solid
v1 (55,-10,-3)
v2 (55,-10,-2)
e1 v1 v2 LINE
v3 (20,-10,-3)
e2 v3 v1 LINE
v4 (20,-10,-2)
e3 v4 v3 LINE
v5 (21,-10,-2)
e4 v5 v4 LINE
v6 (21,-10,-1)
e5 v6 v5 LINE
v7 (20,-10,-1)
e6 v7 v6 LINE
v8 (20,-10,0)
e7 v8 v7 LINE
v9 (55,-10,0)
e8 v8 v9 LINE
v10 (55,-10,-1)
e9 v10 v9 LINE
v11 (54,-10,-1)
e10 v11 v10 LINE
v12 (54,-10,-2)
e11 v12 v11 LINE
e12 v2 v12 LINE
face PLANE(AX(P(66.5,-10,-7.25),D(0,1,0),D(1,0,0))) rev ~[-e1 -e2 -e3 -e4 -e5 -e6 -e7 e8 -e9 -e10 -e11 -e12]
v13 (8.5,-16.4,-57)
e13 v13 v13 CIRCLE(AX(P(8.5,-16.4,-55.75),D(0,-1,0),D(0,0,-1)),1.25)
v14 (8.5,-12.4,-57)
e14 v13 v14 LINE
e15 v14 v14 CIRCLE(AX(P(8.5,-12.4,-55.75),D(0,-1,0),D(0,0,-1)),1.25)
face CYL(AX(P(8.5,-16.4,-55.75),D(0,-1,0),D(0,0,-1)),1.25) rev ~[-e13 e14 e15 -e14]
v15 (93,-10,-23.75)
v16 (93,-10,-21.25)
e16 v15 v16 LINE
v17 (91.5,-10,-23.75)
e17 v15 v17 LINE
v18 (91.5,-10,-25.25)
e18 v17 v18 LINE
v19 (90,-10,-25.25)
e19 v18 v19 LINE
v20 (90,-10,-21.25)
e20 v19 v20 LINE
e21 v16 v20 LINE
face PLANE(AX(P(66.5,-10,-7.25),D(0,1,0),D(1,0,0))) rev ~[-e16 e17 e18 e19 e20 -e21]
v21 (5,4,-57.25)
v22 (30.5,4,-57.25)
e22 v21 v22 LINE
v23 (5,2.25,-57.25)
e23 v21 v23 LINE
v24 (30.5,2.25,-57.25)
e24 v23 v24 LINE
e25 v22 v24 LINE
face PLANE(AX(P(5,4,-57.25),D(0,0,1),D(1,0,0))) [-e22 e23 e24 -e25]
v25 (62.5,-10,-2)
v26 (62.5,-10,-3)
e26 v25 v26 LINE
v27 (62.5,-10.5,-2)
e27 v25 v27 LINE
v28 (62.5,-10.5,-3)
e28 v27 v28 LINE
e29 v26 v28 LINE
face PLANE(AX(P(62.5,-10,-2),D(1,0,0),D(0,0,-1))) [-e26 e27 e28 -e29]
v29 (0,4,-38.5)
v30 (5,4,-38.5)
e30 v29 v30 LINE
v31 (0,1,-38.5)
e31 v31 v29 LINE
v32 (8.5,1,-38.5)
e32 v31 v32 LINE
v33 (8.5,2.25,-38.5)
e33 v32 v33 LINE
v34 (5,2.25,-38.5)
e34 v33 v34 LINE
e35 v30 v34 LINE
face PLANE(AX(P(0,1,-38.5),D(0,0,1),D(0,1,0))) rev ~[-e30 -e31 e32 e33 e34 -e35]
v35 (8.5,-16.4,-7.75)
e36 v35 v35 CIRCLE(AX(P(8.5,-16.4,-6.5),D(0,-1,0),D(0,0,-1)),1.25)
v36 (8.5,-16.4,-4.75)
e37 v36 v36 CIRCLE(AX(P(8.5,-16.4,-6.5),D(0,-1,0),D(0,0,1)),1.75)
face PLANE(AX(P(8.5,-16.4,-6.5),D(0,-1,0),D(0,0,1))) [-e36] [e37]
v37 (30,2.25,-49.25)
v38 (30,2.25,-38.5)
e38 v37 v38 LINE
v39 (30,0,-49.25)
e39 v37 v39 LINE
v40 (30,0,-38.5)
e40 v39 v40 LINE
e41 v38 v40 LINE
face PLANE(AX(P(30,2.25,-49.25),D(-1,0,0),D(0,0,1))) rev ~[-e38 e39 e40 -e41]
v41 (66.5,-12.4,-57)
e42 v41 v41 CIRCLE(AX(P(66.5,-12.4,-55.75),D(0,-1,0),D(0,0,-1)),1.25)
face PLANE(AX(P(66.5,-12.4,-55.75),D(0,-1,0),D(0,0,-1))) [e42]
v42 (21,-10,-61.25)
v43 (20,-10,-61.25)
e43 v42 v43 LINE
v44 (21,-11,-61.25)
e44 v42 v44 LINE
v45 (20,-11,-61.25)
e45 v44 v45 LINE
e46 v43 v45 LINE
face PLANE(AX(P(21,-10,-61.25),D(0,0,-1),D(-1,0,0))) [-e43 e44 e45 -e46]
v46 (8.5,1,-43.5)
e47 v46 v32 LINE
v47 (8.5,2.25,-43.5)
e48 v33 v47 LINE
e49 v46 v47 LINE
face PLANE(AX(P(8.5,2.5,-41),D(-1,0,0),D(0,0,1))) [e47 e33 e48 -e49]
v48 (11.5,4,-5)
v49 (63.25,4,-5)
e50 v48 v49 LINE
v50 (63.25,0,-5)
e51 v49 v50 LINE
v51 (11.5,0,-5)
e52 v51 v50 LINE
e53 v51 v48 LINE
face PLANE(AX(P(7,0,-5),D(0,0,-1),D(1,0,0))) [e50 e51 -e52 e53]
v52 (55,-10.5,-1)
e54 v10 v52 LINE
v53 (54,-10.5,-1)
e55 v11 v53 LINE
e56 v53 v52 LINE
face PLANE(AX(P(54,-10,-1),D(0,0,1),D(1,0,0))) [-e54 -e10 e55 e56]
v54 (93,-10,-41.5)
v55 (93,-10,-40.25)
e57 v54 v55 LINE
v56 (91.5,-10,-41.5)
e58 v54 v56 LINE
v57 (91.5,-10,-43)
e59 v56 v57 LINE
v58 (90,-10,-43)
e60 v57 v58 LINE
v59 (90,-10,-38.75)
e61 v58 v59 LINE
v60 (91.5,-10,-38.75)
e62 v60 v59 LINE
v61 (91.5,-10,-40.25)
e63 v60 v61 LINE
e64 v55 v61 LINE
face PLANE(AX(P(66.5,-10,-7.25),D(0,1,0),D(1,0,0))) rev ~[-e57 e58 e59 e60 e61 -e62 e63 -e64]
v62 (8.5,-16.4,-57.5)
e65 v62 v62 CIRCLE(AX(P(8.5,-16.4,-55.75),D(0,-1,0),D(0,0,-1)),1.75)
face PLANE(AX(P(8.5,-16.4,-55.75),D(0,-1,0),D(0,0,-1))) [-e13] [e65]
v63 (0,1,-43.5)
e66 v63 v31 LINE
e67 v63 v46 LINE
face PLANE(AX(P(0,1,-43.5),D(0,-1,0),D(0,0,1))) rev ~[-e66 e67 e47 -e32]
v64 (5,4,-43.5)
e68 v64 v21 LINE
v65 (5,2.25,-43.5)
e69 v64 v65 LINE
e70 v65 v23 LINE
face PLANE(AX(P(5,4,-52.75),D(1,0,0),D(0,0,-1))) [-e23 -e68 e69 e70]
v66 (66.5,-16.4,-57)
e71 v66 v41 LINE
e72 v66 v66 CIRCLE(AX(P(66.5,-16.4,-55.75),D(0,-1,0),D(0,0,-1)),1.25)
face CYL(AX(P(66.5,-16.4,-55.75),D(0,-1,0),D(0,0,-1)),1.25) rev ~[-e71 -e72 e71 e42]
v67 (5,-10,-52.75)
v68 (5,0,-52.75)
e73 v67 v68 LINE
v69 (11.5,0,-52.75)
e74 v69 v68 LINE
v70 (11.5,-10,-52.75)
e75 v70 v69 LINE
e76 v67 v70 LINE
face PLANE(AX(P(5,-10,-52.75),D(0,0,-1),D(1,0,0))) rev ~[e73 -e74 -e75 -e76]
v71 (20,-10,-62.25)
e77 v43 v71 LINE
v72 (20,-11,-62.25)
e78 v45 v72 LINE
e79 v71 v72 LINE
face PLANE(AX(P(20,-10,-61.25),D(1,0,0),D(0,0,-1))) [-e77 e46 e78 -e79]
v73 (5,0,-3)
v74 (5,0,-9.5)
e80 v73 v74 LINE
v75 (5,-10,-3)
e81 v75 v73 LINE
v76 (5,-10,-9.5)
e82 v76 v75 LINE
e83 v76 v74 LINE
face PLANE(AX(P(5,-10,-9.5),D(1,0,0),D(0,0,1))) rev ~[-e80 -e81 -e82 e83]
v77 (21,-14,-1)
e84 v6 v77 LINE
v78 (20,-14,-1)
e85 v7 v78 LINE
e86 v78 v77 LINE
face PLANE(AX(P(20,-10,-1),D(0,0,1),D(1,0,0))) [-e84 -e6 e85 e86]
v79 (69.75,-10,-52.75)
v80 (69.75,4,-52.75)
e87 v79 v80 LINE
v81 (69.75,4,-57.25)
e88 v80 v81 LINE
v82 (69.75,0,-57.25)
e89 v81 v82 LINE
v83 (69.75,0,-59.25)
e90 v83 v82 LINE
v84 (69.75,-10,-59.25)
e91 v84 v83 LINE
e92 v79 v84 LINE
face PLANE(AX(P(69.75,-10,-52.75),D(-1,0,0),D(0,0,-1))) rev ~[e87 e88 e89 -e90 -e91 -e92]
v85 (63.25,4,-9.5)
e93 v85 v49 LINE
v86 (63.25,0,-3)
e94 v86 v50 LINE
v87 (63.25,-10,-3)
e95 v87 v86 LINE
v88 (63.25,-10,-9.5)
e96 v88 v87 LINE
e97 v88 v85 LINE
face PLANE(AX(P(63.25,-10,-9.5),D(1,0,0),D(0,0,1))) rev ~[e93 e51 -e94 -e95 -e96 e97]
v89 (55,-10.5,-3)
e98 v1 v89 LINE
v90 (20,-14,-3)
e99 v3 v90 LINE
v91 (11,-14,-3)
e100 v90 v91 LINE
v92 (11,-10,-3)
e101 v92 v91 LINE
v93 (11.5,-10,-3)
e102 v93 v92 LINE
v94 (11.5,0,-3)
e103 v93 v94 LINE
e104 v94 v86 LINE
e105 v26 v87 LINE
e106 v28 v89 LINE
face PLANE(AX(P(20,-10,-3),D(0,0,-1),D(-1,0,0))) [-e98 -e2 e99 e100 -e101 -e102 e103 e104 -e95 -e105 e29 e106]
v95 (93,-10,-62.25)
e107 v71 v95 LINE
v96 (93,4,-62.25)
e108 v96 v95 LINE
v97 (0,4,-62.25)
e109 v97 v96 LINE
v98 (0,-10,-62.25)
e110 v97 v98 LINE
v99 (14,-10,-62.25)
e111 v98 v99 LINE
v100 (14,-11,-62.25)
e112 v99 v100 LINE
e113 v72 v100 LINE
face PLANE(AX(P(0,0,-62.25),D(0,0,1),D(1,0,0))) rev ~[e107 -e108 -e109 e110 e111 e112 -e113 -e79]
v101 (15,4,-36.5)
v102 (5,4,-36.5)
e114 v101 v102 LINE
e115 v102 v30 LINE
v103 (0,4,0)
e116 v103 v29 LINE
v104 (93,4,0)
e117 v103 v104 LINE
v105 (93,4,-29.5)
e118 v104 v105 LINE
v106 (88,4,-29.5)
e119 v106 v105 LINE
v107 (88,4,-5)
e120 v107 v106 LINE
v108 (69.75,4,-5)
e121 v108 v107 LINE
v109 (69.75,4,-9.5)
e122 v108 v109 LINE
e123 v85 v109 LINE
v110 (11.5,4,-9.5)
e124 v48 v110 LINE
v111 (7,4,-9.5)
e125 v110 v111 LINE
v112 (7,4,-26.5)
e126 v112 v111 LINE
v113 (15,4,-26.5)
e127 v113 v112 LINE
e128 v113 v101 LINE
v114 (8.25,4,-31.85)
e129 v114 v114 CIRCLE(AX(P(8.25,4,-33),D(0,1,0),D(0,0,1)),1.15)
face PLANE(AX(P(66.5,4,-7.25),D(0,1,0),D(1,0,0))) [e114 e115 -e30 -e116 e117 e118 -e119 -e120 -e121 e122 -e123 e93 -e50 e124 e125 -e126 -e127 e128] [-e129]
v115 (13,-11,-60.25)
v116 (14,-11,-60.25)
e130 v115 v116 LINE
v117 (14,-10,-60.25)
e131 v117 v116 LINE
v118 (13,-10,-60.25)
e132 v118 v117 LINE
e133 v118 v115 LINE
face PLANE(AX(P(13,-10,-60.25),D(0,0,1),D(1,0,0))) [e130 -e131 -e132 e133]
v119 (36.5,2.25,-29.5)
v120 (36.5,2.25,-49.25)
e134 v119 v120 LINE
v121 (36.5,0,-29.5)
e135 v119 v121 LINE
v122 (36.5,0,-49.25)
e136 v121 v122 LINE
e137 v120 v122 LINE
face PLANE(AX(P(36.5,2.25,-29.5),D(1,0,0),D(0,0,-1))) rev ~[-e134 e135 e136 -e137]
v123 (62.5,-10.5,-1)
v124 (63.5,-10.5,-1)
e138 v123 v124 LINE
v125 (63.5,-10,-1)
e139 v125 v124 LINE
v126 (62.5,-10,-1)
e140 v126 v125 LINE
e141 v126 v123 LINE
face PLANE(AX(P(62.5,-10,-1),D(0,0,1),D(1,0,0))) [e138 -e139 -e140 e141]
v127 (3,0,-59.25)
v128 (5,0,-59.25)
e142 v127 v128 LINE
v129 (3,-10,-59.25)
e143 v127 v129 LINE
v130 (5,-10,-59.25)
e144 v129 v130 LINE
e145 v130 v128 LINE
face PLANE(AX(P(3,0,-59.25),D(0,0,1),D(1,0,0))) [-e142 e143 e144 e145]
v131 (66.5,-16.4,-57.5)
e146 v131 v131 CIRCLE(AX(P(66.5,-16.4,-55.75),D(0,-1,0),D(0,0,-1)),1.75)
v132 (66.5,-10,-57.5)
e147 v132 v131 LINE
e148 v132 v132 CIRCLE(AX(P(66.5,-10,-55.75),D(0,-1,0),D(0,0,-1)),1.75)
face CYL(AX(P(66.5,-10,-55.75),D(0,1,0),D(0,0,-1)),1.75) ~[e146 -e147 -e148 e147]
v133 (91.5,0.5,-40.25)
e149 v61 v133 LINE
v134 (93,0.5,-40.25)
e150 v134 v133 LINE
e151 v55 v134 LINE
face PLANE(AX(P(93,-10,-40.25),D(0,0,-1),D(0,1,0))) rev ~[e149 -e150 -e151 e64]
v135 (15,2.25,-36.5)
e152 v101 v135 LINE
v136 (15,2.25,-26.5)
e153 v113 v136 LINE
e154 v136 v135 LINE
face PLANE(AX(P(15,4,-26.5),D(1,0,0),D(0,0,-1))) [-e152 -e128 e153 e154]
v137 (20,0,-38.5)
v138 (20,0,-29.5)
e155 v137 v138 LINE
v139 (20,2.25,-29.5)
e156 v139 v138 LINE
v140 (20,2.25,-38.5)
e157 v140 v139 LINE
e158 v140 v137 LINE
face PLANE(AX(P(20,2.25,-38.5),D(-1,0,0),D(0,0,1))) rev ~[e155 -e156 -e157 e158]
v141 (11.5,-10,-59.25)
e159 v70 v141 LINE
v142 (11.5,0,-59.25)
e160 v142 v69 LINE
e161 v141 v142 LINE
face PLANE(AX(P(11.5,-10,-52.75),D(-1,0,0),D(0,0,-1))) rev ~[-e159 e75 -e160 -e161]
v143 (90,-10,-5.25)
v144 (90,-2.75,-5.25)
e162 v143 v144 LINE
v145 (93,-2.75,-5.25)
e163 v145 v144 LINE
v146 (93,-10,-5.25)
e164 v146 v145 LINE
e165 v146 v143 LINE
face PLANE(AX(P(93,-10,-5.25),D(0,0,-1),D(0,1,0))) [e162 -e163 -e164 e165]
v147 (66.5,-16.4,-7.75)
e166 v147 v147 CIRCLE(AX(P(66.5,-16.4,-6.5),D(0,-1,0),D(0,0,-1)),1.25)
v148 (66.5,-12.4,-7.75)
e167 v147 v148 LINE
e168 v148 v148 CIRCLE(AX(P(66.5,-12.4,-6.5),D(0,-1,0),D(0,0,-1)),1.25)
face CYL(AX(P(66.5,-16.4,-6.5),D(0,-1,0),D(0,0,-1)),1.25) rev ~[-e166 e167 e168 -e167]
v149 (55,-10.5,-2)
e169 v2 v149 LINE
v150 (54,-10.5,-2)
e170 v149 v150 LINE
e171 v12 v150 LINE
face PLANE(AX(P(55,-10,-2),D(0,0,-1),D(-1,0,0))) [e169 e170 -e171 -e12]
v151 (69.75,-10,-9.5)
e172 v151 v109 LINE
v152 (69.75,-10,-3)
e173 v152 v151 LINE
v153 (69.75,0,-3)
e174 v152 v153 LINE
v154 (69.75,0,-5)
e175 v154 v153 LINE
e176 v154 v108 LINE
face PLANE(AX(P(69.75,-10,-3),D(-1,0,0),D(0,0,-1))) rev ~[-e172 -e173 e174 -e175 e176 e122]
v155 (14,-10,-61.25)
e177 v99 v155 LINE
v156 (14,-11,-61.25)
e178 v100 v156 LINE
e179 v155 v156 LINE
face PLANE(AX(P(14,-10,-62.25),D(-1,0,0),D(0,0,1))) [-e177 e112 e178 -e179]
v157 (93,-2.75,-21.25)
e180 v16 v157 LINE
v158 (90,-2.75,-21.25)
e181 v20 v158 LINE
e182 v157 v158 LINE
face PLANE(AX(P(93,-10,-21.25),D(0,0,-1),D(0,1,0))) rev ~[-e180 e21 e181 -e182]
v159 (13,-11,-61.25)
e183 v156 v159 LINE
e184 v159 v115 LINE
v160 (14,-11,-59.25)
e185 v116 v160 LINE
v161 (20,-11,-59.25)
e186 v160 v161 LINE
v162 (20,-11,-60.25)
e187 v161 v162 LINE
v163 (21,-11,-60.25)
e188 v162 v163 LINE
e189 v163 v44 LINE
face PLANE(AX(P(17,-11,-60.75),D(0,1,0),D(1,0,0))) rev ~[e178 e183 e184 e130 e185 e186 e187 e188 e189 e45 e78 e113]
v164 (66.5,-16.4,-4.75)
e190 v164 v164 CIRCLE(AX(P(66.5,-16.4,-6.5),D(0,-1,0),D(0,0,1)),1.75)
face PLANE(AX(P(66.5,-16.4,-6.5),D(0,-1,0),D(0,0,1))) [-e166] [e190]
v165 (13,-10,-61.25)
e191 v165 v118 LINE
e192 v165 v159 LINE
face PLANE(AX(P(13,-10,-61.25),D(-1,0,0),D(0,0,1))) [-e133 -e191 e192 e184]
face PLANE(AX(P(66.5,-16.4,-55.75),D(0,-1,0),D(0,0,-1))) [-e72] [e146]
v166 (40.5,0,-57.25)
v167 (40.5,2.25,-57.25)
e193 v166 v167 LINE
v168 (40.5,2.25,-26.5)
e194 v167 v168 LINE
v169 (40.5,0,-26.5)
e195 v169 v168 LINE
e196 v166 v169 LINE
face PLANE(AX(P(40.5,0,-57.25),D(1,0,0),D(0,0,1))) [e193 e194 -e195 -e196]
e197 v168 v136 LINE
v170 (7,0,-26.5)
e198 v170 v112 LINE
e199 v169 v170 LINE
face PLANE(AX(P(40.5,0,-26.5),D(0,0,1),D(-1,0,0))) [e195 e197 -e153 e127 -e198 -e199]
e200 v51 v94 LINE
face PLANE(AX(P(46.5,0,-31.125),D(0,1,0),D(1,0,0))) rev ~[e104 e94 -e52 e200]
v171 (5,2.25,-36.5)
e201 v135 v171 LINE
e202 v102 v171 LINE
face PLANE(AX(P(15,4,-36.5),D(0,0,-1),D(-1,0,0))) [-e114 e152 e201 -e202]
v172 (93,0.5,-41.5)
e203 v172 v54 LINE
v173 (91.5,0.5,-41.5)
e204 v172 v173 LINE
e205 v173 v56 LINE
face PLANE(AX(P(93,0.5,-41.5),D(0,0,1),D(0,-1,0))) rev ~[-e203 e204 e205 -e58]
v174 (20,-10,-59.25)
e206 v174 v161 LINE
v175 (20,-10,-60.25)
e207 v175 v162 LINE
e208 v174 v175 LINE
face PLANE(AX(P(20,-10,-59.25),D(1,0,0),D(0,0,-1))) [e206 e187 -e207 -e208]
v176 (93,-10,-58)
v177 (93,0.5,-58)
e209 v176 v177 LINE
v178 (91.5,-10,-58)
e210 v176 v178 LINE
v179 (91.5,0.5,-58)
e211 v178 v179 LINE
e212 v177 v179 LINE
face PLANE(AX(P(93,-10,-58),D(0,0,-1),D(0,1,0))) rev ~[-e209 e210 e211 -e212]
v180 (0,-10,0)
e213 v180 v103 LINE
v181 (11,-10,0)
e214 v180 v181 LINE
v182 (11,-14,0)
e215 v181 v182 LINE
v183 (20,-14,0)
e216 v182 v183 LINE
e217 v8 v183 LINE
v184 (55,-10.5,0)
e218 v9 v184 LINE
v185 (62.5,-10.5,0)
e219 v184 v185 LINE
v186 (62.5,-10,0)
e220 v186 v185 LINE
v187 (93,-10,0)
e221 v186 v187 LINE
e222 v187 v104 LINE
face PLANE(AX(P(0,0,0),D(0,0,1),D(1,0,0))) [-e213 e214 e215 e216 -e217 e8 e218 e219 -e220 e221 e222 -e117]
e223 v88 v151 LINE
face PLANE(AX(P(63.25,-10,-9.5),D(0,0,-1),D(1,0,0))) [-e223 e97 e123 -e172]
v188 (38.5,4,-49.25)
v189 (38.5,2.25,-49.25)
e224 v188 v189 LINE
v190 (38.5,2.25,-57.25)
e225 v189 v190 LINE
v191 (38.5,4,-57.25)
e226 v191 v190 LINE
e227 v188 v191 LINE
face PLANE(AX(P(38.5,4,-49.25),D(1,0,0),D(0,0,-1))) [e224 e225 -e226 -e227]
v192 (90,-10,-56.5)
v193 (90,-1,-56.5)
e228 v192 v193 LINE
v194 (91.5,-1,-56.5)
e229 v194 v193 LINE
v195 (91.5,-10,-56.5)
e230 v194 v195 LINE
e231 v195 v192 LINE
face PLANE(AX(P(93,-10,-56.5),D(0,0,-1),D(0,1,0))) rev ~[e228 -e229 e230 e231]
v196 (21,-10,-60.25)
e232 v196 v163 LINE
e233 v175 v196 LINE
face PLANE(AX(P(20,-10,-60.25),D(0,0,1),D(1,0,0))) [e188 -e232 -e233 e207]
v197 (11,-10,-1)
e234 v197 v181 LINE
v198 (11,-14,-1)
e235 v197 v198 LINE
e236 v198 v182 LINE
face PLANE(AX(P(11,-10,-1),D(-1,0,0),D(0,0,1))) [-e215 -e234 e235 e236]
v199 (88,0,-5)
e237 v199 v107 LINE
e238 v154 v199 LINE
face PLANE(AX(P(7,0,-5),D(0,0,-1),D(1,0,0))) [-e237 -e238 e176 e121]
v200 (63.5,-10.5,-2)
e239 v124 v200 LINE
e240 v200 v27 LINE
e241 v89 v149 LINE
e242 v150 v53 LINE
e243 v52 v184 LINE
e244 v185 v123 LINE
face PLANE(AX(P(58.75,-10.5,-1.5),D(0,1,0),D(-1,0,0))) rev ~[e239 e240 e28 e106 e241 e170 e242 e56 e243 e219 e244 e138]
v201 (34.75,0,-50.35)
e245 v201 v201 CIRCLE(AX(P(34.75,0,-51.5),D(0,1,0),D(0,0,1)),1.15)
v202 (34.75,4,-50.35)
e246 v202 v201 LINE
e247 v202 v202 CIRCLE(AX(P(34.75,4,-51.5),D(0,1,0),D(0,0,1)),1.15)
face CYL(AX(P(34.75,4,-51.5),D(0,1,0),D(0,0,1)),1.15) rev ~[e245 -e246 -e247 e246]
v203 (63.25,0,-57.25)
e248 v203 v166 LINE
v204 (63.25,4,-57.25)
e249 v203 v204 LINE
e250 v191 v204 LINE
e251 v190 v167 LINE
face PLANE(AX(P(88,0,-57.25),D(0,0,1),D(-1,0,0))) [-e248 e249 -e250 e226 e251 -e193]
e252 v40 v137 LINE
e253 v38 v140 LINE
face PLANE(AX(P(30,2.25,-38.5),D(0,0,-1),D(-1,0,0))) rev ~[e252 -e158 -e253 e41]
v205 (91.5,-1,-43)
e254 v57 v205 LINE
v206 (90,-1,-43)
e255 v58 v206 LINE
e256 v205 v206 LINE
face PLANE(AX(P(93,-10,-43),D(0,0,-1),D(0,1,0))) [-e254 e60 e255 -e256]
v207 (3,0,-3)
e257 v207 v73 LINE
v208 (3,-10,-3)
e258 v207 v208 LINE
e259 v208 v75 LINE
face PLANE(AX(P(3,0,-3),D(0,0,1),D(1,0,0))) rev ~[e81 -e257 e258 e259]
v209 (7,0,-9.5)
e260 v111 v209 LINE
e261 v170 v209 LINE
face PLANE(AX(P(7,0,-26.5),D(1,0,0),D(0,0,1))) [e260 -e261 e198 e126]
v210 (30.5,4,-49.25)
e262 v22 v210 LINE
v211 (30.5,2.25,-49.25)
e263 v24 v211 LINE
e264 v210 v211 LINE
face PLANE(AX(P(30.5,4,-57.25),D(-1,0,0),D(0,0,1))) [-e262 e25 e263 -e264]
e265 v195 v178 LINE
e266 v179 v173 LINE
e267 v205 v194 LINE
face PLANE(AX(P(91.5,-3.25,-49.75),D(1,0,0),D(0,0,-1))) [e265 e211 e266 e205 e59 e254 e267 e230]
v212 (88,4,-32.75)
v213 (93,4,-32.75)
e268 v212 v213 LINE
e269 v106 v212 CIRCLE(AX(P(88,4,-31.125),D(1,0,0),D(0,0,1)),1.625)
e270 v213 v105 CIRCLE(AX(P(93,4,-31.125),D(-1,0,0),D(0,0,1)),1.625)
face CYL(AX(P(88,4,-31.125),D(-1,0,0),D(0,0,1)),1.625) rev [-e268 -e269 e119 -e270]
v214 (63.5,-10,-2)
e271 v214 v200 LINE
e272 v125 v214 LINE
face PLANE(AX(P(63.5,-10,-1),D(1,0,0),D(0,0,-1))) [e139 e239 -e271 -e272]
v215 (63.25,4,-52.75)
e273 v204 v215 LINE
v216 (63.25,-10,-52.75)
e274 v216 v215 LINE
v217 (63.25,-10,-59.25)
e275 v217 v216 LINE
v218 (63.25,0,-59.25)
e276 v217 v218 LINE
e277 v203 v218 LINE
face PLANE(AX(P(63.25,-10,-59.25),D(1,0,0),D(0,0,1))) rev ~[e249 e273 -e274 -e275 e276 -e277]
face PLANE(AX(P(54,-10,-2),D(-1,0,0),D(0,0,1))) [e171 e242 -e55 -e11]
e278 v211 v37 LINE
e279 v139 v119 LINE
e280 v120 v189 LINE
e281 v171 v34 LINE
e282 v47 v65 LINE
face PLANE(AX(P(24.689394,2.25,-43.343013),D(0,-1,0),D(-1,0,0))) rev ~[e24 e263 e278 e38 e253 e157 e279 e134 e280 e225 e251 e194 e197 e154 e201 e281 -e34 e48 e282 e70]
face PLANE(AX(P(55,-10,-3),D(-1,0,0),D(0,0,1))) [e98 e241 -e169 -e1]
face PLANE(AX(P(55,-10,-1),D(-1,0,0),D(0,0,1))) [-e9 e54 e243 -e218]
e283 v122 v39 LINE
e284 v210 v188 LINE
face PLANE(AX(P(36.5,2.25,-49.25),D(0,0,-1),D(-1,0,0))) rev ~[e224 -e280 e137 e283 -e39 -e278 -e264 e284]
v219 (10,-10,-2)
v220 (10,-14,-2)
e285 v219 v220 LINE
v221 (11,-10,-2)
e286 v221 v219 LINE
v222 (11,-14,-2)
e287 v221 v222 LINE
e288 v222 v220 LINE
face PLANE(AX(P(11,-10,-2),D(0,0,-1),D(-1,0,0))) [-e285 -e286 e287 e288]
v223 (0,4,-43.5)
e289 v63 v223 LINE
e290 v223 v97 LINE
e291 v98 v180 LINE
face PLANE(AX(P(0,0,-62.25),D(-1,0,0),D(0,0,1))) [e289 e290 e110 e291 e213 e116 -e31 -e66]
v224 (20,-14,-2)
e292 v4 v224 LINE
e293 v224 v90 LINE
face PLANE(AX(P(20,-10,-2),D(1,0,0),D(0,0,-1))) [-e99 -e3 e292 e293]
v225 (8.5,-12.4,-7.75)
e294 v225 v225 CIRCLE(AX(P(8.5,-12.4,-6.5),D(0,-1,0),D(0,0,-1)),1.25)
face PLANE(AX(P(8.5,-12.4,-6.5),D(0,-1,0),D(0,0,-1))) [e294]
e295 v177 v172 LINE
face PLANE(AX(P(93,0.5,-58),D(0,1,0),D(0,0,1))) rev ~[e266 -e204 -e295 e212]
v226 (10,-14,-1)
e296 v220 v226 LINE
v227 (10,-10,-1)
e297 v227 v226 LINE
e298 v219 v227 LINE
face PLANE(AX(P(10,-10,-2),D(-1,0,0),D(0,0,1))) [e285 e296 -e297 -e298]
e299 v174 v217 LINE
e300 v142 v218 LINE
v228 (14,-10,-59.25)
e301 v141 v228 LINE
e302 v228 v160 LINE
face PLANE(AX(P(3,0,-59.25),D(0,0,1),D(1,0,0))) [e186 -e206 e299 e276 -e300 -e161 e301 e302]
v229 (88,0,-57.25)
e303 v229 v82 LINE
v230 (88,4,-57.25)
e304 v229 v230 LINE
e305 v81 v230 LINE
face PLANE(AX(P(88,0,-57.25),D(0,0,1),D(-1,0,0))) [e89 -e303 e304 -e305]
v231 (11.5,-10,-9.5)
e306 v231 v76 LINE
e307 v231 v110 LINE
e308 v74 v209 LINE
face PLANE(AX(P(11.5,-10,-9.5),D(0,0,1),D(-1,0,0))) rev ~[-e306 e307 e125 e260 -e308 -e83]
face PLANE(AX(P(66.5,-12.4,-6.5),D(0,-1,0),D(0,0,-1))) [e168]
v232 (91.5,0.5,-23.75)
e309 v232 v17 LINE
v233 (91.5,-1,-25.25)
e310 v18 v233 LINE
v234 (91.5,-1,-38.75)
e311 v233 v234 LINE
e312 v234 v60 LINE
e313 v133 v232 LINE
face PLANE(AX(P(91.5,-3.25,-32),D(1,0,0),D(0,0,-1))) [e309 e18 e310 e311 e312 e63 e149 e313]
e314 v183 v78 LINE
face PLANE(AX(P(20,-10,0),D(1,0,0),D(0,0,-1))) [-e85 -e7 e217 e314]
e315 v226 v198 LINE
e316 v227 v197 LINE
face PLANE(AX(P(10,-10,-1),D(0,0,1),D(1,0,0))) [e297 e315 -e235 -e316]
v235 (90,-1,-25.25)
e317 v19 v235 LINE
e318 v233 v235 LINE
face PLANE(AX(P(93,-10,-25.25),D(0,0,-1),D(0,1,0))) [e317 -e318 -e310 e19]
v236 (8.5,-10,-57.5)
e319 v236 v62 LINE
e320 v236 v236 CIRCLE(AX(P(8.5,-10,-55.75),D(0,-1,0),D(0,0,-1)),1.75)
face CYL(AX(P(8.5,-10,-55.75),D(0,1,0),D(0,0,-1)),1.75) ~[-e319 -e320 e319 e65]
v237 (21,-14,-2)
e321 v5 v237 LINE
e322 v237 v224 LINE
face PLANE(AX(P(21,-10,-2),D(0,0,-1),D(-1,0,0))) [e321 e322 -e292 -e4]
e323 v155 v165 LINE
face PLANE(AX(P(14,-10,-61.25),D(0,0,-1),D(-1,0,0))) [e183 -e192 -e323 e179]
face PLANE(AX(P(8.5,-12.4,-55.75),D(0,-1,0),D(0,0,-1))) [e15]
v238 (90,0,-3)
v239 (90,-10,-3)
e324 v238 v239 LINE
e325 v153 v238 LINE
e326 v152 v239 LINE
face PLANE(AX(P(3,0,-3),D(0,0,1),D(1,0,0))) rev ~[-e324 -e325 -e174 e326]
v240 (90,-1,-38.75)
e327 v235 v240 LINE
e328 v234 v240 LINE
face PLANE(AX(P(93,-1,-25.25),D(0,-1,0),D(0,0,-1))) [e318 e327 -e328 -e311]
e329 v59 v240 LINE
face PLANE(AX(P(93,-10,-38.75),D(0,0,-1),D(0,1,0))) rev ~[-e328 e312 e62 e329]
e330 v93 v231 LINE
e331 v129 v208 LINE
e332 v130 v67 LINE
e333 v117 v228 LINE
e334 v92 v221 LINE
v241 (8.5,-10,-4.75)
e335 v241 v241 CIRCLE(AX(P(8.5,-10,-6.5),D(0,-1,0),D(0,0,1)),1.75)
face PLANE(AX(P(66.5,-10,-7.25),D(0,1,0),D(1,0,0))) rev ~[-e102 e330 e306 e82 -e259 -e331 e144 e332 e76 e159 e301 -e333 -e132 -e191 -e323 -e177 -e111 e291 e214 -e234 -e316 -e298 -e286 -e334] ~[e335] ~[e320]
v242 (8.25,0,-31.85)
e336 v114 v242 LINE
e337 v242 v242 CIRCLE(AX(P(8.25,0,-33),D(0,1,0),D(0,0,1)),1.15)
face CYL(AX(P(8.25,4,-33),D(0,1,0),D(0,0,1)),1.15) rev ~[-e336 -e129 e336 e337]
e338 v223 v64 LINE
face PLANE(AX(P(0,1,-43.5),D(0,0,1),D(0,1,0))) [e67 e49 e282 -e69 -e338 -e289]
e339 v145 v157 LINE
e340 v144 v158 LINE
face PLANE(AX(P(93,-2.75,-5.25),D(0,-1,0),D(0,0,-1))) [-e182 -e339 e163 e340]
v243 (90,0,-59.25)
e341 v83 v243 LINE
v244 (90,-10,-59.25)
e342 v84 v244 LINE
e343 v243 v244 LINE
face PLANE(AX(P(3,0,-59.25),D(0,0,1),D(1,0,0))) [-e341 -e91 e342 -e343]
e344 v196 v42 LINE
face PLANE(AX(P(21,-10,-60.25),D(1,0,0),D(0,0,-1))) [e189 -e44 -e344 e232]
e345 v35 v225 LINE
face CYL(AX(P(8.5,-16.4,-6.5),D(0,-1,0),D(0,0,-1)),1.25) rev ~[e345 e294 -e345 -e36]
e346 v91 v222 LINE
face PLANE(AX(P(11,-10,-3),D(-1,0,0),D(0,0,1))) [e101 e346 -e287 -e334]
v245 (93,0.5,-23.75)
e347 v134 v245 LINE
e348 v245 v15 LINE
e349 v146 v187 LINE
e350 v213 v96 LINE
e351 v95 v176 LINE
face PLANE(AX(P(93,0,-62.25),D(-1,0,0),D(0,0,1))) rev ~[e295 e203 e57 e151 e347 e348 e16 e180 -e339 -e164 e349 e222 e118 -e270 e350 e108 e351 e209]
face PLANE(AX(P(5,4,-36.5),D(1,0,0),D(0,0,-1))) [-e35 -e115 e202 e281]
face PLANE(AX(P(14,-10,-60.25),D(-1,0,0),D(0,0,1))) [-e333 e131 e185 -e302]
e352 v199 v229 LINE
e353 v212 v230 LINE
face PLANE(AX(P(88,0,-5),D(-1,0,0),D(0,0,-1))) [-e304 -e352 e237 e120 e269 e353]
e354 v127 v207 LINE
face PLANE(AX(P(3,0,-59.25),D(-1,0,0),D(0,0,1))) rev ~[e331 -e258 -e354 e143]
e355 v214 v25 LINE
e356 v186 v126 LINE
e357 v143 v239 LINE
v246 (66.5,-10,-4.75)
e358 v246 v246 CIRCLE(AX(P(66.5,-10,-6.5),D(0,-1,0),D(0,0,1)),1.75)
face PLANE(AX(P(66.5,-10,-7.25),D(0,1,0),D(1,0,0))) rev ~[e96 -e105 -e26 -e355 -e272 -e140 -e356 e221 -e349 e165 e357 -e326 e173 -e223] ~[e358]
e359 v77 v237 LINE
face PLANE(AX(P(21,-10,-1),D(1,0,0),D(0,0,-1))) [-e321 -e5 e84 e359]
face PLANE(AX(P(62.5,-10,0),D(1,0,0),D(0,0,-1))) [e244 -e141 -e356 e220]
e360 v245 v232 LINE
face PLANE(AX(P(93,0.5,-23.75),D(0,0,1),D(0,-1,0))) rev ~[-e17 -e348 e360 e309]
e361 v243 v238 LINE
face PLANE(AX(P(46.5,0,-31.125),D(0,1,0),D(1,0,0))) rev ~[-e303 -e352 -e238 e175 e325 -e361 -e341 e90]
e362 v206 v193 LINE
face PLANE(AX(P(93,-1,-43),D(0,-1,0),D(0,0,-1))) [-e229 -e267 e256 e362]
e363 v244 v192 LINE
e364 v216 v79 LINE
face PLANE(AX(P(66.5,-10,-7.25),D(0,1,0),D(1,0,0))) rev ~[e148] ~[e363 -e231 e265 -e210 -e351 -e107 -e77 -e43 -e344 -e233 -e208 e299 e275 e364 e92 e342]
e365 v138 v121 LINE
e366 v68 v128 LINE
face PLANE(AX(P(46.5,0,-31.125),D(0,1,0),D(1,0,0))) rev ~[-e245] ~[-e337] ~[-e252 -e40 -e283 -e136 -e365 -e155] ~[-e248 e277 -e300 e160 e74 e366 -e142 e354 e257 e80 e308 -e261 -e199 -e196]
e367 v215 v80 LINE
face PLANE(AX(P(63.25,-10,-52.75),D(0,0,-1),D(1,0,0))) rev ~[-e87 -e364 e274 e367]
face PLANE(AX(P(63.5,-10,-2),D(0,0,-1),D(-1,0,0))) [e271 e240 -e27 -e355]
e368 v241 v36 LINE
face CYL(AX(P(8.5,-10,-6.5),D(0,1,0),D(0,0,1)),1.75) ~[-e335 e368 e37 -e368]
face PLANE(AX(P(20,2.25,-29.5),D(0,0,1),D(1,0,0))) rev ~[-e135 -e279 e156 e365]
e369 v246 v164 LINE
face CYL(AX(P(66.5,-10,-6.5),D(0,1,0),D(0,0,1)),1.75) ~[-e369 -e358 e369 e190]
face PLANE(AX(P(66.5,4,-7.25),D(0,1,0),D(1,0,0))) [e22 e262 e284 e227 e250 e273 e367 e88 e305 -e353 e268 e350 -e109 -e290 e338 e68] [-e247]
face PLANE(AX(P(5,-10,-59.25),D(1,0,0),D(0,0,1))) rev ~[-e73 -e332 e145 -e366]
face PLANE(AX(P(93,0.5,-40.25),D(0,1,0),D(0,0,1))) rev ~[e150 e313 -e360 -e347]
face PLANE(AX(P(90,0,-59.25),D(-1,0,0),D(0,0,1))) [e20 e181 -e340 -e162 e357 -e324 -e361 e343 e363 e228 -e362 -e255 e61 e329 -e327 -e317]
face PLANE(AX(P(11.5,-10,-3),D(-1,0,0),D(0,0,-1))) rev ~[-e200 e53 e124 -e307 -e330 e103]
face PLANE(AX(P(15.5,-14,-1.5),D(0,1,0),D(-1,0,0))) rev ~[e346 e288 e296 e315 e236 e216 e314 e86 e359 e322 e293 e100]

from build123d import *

# Parameters (mm, degrees)
SKETCH1_W               = 93
SKETCH1_H               = 62.25
BOSS_EXTRUDE1_DEPTH     = 4
CUT_EXTRUDE1_DEPTH      = 1.75
CUT_EXTRUDE2_DEPTH      = 112.933574052
SKETCH7_R               = 1.15
CUT_EXTRUDE3_DEPTH      = 112.982420495
SKETCH8_W               = 93
SKETCH8_H               = 62.25
SKETCH8_W_2             = 87
SKETCH8_H_2             = 56.25
BOSS_EXTRUDE3_DEPTH     = 10
BOSS_EXTRUDE7_START     = -14
SKETCH16_W              = 6.5
SKETCH16_H              = 4.5
SKETCH16_H_2            = 2
SKETCH16_W_2            = 4.5
BOSS_EXTRUDE7_DEPTH     = 14
SKETCH9_W               = 16
SKETCH9_H               = 7.25
SKETCH9_W_2             = 13.5
SKETCH9_H_2             = 9
CUT_EXTRUDE4_DEPTH      = 3
CUT_EXTRUDE5_DEPTH      = 1.5
CUT_EXTRUDE6_DEPTH      = 113.356853374
CUT_EXTRUDE6_DEPTH_BACK = 5
BOSS_EXTRUDE4_DEPTH     = 1
BOSS_EXTRUDE5_DEPTH     = 4
SKETCH14_W              = 5
SKETCH14_H              = 3
CUT_EXTRUDE8_DEPTH      = 8.5
BOSS_EXTRUDE6_DEPTH     = 0.5
SKETCH17_W              = 6.5
SKETCH17_H              = 4.5
CUT_EXTRUDE9_DEPTH      = 1.75
SKETCH18_R              = 1.75
BOSS_EXTRUDE8_DEPTH     = 6.4
SKETCH19_R              = 1.25
CUT_EXTRUDE10_DEPTH     = 4


with BuildPart() as part:
    # Sketch1 → Boss-Extrude1 (new body)
    with BuildSketch(Plane(origin=(0, 0, 0), x_dir=(1, 0, 0), z_dir=(0, 1, 0))):
        with Locations((46.5, 31.125)):
            Rectangle(SKETCH1_W, SKETCH1_H)
        Polygon((7, 5), (88, 5), (88, 57.25), (40.5, 57.25), (40.5, 26.5), (7, 26.5), align=None, mode=Mode.SUBTRACT)
    extrude(amount=BOSS_EXTRUDE1_DEPTH)

    # Sketch5 → Cut-Extrude1 (cut)
    with BuildSketch(Plane(origin=(0, 4, 0), x_dir=(1, 0, 0), z_dir=(0, 1, 0))):
        Polygon((40.5, 26.5), (15, 26.5), (15, 36.5), (5, 36.5), (5, 57.25), (30.5, 57.25), (30.5, 49.25), (38.5, 49.25), (38.5, 57.25), (40.5, 57.25), align=None)
    extrude(amount=-CUT_EXTRUDE1_DEPTH, mode=Mode.SUBTRACT)

    # Sketch6 → Cut-Extrude2 (cut, through all)
    with BuildSketch(Plane(origin=(0, 2.25, 0), x_dir=(1, 0, 0), z_dir=(0, 1, 0))):
        Polygon((30.5, 49.25), (30, 49.25), (30, 38.5), (20, 38.5), (20, 29.5), (28.25, 29.5), (36.5, 29.5), (36.5, 39.375), (36.5, 49.25), align=None)
    extrude(amount=-CUT_EXTRUDE2_DEPTH, mode=Mode.SUBTRACT)

    # Sketch7 → Cut-Extrude3 (cut, through all)
    with BuildSketch(Plane(origin=(0, 4, 0), x_dir=(1, 0, 0), z_dir=(0, 1, 0))):
        with Locations(Location((8.25, 33, 0), (0, 0, 270))):
            Circle(SKETCH7_R)
        with Locations(Location((34.75, 51.5, 0), (0, 0, 270))):
            Circle(SKETCH7_R)
    extrude(amount=-CUT_EXTRUDE3_DEPTH, mode=Mode.SUBTRACT)

    # Sketch8 → Boss-Extrude3 (add)
    with BuildSketch(Plane.XZ):
        with Locations((46.5, -31.125)):
            Rectangle(SKETCH8_W, SKETCH8_H)
        with Locations((46.5, -31.125)):
            Rectangle(SKETCH8_W_2, SKETCH8_H_2, mode=Mode.SUBTRACT)
    extrude(amount=BOSS_EXTRUDE3_DEPTH)

    # Sketch16 → Boss-Extrude7 (add)
    with BuildSketch(Plane(origin=(0, 4, 0), x_dir=(1, 0, 0), z_dir=(0, 1, 0)).offset(BOSS_EXTRUDE7_START)):
        with Locations((66.5, 7.25)):
            Rectangle(SKETCH16_W, SKETCH16_H)
        with Locations((66.5, 4)):
            Rectangle(SKETCH16_W, SKETCH16_H_2)
        with Locations((66.5, 55)):
            Rectangle(SKETCH16_W, SKETCH16_H)
        with Locations((66.5, 58.25)):
            Rectangle(SKETCH16_W, SKETCH16_H_2)
        with Locations((8.25, 58.25)):
            Rectangle(SKETCH16_W, SKETCH16_H_2)
        Polygon((5, 57.25), (5, 52.75), (7, 52.75), (11.5, 52.75), (11.5, 57.25), align=None)
        with Locations((9.25, 7.25)):
            Rectangle(SKETCH16_W_2, SKETCH16_H)
        Polygon((7, 5), (7, 9.5), (5, 9.5), (5, 3), (11.5, 3), (11.5, 5), align=None)
    extrude(amount=BOSS_EXTRUDE7_DEPTH)

    # Sketch9 → Cut-Extrude4 (cut)
    with BuildSketch(Plane(origin=(93, 0, 0), x_dir=(0, 0, -1), z_dir=(1, 0, 0))):
        with Locations((13.25, -6.375)):
            Rectangle(SKETCH9_W, SKETCH9_H)
        with Locations((32, -5.5)):
            Rectangle(SKETCH9_W_2, SKETCH9_H_2)
        with Locations((49.75, -5.5)):
            Rectangle(SKETCH9_W_2, SKETCH9_H_2)
    extrude(amount=-CUT_EXTRUDE4_DEPTH, mode=Mode.SUBTRACT)

    # Sketch10 → Cut-Extrude5 (cut)
    with BuildSketch(Plane(origin=(93, 0, 0), x_dir=(0, 0, -1), z_dir=(1, 0, 0))):
        Polygon((25.25, -10), (25.25, -1), (38.75, -1), (38.75, -10), (40.25, -10), (40.25, 0.5), (23.75, 0.5), (23.75, -10), align=None)
        Polygon((43, -10), (43, -1), (56.5, -1), (56.5, -10), (58, -10), (58, 0.5), (41.5, 0.5), (41.5, -10), align=None)
    extrude(amount=-CUT_EXTRUDE5_DEPTH, mode=Mode.SUBTRACT)

    # Sketch11 → Cut-Extrude6 (cut, two sides: drawn at the far end of the back side and taken through both)
    with BuildSketch(Plane(origin=(93, 0, 0), x_dir=(0, 0, -1), z_dir=(1, 0, 0)).offset(-CUT_EXTRUDE6_DEPTH_BACK)):
        with BuildLine():
            Line((29.5, 85.233770081), (29.5, 4))
            ThreePointArc((29.5, 4), (31.125, 2.375), (32.75, 4))
            Line((32.75, 4), (32.75, 85.233770081))
            Line((32.75, 85.233770081), (32.75, 247.701310244))
            Line((32.75, 247.701310244), (29.5, 247.701310244))
            Line((29.5, 247.701310244), (29.5, 85.233770081))
        make_face()
    extrude(amount=CUT_EXTRUDE6_DEPTH + CUT_EXTRUDE6_DEPTH_BACK, mode=Mode.SUBTRACT)

    # Sketch12 → Boss-Extrude4 (add)
    with BuildSketch(Plane(origin=(0, -10, 0), x_dir=(-1, 0, 0), z_dir=(0, -1, 0))):
        Polygon((-20, 62.25), (-14, 62.25), (-14, 61.25), (-13, 61.25), (-13, 60.25), (-14, 60.25), (-14, 59.25), (-20, 59.25), (-20, 60.25), (-21, 60.25), (-21, 61.25), (-20, 61.25), align=None)
    extrude(amount=BOSS_EXTRUDE4_DEPTH)

    # Sketch13 → Boss-Extrude5 (add)
    with BuildSketch(Plane.XZ.offset(10)):
        Polygon((20, -3), (11, -3), (11, -2), (10, -2), (10, -1), (11, -1), (11, 0), (20, 0), (20, -1), (21, -1), (21, -2), (20, -2), align=None)
    extrude(amount=BOSS_EXTRUDE5_DEPTH)

    # Sketch14 → Cut-Extrude8 (cut)
    with BuildSketch(Plane.ZY):
        with Locations((-41, 2.5)):
            Rectangle(SKETCH14_W, SKETCH14_H)
    extrude(amount=-CUT_EXTRUDE8_DEPTH, mode=Mode.SUBTRACT)

    # Sketch15 → Boss-Extrude6 (add)
    with BuildSketch(Plane.XZ.offset(10)):
        Polygon((62.5, -3), (55, -3), (55, -2), (54, -2), (54, -1), (55, -1), (55, 0), (62.5, 0), (62.5, -1), (63.5, -1), (63.5, -2), (62.5, -2), align=None)
    extrude(amount=BOSS_EXTRUDE6_DEPTH)

    # Sketch17 → Cut-Extrude9 (cut)
    with BuildSketch(Plane(origin=(0, 4, 0), x_dir=(1, 0, 0), z_dir=(0, 1, 0))):
        with Locations((8.25, 55)):
            Rectangle(SKETCH17_W, SKETCH17_H)
    extrude(amount=-CUT_EXTRUDE9_DEPTH, mode=Mode.SUBTRACT)

    # Sketch18 → Boss-Extrude8 (add)
    with BuildSketch(Plane(origin=(0, -10, 0), x_dir=(-1, 0, 0), z_dir=(0, -1, 0))):
        with Locations(Location((-8.5, 55.75, 0), (0, 0, 90))):
            Circle(SKETCH18_R)
        with Locations(Location((-66.5, 55.75, 0), (0, 0, 90))):
            Circle(SKETCH18_R)
        with Locations(Location((-66.5, 6.5, 0), (0, 0, 270))):
            Circle(SKETCH18_R)
        with Locations(Location((-8.5, 6.5, 0), (0, 0, 270))):
            Circle(SKETCH18_R)
    extrude(amount=BOSS_EXTRUDE8_DEPTH)

    # Sketch19 → Cut-Extrude10 (cut)
    with BuildSketch(Plane.XZ.offset(16.4)):
        with Locations(Location((8.5, -6.5, 0), (0, 0, 270))):
            Circle(SKETCH19_R)
        with Locations(Location((8.5, -55.75, 0), (0, 0, 270))):
            Circle(SKETCH19_R)
        with Locations(Location((66.5, -55.75, 0), (0, 0, 270))):
            Circle(SKETCH19_R)
        with Locations(Location((66.5, -6.5, 0), (0, 0, 270))):
            Circle(SKETCH19_R)
    extrude(amount=-CUT_EXTRUDE10_DEPTH, mode=Mode.SUBTRACT)


solid = part.part
